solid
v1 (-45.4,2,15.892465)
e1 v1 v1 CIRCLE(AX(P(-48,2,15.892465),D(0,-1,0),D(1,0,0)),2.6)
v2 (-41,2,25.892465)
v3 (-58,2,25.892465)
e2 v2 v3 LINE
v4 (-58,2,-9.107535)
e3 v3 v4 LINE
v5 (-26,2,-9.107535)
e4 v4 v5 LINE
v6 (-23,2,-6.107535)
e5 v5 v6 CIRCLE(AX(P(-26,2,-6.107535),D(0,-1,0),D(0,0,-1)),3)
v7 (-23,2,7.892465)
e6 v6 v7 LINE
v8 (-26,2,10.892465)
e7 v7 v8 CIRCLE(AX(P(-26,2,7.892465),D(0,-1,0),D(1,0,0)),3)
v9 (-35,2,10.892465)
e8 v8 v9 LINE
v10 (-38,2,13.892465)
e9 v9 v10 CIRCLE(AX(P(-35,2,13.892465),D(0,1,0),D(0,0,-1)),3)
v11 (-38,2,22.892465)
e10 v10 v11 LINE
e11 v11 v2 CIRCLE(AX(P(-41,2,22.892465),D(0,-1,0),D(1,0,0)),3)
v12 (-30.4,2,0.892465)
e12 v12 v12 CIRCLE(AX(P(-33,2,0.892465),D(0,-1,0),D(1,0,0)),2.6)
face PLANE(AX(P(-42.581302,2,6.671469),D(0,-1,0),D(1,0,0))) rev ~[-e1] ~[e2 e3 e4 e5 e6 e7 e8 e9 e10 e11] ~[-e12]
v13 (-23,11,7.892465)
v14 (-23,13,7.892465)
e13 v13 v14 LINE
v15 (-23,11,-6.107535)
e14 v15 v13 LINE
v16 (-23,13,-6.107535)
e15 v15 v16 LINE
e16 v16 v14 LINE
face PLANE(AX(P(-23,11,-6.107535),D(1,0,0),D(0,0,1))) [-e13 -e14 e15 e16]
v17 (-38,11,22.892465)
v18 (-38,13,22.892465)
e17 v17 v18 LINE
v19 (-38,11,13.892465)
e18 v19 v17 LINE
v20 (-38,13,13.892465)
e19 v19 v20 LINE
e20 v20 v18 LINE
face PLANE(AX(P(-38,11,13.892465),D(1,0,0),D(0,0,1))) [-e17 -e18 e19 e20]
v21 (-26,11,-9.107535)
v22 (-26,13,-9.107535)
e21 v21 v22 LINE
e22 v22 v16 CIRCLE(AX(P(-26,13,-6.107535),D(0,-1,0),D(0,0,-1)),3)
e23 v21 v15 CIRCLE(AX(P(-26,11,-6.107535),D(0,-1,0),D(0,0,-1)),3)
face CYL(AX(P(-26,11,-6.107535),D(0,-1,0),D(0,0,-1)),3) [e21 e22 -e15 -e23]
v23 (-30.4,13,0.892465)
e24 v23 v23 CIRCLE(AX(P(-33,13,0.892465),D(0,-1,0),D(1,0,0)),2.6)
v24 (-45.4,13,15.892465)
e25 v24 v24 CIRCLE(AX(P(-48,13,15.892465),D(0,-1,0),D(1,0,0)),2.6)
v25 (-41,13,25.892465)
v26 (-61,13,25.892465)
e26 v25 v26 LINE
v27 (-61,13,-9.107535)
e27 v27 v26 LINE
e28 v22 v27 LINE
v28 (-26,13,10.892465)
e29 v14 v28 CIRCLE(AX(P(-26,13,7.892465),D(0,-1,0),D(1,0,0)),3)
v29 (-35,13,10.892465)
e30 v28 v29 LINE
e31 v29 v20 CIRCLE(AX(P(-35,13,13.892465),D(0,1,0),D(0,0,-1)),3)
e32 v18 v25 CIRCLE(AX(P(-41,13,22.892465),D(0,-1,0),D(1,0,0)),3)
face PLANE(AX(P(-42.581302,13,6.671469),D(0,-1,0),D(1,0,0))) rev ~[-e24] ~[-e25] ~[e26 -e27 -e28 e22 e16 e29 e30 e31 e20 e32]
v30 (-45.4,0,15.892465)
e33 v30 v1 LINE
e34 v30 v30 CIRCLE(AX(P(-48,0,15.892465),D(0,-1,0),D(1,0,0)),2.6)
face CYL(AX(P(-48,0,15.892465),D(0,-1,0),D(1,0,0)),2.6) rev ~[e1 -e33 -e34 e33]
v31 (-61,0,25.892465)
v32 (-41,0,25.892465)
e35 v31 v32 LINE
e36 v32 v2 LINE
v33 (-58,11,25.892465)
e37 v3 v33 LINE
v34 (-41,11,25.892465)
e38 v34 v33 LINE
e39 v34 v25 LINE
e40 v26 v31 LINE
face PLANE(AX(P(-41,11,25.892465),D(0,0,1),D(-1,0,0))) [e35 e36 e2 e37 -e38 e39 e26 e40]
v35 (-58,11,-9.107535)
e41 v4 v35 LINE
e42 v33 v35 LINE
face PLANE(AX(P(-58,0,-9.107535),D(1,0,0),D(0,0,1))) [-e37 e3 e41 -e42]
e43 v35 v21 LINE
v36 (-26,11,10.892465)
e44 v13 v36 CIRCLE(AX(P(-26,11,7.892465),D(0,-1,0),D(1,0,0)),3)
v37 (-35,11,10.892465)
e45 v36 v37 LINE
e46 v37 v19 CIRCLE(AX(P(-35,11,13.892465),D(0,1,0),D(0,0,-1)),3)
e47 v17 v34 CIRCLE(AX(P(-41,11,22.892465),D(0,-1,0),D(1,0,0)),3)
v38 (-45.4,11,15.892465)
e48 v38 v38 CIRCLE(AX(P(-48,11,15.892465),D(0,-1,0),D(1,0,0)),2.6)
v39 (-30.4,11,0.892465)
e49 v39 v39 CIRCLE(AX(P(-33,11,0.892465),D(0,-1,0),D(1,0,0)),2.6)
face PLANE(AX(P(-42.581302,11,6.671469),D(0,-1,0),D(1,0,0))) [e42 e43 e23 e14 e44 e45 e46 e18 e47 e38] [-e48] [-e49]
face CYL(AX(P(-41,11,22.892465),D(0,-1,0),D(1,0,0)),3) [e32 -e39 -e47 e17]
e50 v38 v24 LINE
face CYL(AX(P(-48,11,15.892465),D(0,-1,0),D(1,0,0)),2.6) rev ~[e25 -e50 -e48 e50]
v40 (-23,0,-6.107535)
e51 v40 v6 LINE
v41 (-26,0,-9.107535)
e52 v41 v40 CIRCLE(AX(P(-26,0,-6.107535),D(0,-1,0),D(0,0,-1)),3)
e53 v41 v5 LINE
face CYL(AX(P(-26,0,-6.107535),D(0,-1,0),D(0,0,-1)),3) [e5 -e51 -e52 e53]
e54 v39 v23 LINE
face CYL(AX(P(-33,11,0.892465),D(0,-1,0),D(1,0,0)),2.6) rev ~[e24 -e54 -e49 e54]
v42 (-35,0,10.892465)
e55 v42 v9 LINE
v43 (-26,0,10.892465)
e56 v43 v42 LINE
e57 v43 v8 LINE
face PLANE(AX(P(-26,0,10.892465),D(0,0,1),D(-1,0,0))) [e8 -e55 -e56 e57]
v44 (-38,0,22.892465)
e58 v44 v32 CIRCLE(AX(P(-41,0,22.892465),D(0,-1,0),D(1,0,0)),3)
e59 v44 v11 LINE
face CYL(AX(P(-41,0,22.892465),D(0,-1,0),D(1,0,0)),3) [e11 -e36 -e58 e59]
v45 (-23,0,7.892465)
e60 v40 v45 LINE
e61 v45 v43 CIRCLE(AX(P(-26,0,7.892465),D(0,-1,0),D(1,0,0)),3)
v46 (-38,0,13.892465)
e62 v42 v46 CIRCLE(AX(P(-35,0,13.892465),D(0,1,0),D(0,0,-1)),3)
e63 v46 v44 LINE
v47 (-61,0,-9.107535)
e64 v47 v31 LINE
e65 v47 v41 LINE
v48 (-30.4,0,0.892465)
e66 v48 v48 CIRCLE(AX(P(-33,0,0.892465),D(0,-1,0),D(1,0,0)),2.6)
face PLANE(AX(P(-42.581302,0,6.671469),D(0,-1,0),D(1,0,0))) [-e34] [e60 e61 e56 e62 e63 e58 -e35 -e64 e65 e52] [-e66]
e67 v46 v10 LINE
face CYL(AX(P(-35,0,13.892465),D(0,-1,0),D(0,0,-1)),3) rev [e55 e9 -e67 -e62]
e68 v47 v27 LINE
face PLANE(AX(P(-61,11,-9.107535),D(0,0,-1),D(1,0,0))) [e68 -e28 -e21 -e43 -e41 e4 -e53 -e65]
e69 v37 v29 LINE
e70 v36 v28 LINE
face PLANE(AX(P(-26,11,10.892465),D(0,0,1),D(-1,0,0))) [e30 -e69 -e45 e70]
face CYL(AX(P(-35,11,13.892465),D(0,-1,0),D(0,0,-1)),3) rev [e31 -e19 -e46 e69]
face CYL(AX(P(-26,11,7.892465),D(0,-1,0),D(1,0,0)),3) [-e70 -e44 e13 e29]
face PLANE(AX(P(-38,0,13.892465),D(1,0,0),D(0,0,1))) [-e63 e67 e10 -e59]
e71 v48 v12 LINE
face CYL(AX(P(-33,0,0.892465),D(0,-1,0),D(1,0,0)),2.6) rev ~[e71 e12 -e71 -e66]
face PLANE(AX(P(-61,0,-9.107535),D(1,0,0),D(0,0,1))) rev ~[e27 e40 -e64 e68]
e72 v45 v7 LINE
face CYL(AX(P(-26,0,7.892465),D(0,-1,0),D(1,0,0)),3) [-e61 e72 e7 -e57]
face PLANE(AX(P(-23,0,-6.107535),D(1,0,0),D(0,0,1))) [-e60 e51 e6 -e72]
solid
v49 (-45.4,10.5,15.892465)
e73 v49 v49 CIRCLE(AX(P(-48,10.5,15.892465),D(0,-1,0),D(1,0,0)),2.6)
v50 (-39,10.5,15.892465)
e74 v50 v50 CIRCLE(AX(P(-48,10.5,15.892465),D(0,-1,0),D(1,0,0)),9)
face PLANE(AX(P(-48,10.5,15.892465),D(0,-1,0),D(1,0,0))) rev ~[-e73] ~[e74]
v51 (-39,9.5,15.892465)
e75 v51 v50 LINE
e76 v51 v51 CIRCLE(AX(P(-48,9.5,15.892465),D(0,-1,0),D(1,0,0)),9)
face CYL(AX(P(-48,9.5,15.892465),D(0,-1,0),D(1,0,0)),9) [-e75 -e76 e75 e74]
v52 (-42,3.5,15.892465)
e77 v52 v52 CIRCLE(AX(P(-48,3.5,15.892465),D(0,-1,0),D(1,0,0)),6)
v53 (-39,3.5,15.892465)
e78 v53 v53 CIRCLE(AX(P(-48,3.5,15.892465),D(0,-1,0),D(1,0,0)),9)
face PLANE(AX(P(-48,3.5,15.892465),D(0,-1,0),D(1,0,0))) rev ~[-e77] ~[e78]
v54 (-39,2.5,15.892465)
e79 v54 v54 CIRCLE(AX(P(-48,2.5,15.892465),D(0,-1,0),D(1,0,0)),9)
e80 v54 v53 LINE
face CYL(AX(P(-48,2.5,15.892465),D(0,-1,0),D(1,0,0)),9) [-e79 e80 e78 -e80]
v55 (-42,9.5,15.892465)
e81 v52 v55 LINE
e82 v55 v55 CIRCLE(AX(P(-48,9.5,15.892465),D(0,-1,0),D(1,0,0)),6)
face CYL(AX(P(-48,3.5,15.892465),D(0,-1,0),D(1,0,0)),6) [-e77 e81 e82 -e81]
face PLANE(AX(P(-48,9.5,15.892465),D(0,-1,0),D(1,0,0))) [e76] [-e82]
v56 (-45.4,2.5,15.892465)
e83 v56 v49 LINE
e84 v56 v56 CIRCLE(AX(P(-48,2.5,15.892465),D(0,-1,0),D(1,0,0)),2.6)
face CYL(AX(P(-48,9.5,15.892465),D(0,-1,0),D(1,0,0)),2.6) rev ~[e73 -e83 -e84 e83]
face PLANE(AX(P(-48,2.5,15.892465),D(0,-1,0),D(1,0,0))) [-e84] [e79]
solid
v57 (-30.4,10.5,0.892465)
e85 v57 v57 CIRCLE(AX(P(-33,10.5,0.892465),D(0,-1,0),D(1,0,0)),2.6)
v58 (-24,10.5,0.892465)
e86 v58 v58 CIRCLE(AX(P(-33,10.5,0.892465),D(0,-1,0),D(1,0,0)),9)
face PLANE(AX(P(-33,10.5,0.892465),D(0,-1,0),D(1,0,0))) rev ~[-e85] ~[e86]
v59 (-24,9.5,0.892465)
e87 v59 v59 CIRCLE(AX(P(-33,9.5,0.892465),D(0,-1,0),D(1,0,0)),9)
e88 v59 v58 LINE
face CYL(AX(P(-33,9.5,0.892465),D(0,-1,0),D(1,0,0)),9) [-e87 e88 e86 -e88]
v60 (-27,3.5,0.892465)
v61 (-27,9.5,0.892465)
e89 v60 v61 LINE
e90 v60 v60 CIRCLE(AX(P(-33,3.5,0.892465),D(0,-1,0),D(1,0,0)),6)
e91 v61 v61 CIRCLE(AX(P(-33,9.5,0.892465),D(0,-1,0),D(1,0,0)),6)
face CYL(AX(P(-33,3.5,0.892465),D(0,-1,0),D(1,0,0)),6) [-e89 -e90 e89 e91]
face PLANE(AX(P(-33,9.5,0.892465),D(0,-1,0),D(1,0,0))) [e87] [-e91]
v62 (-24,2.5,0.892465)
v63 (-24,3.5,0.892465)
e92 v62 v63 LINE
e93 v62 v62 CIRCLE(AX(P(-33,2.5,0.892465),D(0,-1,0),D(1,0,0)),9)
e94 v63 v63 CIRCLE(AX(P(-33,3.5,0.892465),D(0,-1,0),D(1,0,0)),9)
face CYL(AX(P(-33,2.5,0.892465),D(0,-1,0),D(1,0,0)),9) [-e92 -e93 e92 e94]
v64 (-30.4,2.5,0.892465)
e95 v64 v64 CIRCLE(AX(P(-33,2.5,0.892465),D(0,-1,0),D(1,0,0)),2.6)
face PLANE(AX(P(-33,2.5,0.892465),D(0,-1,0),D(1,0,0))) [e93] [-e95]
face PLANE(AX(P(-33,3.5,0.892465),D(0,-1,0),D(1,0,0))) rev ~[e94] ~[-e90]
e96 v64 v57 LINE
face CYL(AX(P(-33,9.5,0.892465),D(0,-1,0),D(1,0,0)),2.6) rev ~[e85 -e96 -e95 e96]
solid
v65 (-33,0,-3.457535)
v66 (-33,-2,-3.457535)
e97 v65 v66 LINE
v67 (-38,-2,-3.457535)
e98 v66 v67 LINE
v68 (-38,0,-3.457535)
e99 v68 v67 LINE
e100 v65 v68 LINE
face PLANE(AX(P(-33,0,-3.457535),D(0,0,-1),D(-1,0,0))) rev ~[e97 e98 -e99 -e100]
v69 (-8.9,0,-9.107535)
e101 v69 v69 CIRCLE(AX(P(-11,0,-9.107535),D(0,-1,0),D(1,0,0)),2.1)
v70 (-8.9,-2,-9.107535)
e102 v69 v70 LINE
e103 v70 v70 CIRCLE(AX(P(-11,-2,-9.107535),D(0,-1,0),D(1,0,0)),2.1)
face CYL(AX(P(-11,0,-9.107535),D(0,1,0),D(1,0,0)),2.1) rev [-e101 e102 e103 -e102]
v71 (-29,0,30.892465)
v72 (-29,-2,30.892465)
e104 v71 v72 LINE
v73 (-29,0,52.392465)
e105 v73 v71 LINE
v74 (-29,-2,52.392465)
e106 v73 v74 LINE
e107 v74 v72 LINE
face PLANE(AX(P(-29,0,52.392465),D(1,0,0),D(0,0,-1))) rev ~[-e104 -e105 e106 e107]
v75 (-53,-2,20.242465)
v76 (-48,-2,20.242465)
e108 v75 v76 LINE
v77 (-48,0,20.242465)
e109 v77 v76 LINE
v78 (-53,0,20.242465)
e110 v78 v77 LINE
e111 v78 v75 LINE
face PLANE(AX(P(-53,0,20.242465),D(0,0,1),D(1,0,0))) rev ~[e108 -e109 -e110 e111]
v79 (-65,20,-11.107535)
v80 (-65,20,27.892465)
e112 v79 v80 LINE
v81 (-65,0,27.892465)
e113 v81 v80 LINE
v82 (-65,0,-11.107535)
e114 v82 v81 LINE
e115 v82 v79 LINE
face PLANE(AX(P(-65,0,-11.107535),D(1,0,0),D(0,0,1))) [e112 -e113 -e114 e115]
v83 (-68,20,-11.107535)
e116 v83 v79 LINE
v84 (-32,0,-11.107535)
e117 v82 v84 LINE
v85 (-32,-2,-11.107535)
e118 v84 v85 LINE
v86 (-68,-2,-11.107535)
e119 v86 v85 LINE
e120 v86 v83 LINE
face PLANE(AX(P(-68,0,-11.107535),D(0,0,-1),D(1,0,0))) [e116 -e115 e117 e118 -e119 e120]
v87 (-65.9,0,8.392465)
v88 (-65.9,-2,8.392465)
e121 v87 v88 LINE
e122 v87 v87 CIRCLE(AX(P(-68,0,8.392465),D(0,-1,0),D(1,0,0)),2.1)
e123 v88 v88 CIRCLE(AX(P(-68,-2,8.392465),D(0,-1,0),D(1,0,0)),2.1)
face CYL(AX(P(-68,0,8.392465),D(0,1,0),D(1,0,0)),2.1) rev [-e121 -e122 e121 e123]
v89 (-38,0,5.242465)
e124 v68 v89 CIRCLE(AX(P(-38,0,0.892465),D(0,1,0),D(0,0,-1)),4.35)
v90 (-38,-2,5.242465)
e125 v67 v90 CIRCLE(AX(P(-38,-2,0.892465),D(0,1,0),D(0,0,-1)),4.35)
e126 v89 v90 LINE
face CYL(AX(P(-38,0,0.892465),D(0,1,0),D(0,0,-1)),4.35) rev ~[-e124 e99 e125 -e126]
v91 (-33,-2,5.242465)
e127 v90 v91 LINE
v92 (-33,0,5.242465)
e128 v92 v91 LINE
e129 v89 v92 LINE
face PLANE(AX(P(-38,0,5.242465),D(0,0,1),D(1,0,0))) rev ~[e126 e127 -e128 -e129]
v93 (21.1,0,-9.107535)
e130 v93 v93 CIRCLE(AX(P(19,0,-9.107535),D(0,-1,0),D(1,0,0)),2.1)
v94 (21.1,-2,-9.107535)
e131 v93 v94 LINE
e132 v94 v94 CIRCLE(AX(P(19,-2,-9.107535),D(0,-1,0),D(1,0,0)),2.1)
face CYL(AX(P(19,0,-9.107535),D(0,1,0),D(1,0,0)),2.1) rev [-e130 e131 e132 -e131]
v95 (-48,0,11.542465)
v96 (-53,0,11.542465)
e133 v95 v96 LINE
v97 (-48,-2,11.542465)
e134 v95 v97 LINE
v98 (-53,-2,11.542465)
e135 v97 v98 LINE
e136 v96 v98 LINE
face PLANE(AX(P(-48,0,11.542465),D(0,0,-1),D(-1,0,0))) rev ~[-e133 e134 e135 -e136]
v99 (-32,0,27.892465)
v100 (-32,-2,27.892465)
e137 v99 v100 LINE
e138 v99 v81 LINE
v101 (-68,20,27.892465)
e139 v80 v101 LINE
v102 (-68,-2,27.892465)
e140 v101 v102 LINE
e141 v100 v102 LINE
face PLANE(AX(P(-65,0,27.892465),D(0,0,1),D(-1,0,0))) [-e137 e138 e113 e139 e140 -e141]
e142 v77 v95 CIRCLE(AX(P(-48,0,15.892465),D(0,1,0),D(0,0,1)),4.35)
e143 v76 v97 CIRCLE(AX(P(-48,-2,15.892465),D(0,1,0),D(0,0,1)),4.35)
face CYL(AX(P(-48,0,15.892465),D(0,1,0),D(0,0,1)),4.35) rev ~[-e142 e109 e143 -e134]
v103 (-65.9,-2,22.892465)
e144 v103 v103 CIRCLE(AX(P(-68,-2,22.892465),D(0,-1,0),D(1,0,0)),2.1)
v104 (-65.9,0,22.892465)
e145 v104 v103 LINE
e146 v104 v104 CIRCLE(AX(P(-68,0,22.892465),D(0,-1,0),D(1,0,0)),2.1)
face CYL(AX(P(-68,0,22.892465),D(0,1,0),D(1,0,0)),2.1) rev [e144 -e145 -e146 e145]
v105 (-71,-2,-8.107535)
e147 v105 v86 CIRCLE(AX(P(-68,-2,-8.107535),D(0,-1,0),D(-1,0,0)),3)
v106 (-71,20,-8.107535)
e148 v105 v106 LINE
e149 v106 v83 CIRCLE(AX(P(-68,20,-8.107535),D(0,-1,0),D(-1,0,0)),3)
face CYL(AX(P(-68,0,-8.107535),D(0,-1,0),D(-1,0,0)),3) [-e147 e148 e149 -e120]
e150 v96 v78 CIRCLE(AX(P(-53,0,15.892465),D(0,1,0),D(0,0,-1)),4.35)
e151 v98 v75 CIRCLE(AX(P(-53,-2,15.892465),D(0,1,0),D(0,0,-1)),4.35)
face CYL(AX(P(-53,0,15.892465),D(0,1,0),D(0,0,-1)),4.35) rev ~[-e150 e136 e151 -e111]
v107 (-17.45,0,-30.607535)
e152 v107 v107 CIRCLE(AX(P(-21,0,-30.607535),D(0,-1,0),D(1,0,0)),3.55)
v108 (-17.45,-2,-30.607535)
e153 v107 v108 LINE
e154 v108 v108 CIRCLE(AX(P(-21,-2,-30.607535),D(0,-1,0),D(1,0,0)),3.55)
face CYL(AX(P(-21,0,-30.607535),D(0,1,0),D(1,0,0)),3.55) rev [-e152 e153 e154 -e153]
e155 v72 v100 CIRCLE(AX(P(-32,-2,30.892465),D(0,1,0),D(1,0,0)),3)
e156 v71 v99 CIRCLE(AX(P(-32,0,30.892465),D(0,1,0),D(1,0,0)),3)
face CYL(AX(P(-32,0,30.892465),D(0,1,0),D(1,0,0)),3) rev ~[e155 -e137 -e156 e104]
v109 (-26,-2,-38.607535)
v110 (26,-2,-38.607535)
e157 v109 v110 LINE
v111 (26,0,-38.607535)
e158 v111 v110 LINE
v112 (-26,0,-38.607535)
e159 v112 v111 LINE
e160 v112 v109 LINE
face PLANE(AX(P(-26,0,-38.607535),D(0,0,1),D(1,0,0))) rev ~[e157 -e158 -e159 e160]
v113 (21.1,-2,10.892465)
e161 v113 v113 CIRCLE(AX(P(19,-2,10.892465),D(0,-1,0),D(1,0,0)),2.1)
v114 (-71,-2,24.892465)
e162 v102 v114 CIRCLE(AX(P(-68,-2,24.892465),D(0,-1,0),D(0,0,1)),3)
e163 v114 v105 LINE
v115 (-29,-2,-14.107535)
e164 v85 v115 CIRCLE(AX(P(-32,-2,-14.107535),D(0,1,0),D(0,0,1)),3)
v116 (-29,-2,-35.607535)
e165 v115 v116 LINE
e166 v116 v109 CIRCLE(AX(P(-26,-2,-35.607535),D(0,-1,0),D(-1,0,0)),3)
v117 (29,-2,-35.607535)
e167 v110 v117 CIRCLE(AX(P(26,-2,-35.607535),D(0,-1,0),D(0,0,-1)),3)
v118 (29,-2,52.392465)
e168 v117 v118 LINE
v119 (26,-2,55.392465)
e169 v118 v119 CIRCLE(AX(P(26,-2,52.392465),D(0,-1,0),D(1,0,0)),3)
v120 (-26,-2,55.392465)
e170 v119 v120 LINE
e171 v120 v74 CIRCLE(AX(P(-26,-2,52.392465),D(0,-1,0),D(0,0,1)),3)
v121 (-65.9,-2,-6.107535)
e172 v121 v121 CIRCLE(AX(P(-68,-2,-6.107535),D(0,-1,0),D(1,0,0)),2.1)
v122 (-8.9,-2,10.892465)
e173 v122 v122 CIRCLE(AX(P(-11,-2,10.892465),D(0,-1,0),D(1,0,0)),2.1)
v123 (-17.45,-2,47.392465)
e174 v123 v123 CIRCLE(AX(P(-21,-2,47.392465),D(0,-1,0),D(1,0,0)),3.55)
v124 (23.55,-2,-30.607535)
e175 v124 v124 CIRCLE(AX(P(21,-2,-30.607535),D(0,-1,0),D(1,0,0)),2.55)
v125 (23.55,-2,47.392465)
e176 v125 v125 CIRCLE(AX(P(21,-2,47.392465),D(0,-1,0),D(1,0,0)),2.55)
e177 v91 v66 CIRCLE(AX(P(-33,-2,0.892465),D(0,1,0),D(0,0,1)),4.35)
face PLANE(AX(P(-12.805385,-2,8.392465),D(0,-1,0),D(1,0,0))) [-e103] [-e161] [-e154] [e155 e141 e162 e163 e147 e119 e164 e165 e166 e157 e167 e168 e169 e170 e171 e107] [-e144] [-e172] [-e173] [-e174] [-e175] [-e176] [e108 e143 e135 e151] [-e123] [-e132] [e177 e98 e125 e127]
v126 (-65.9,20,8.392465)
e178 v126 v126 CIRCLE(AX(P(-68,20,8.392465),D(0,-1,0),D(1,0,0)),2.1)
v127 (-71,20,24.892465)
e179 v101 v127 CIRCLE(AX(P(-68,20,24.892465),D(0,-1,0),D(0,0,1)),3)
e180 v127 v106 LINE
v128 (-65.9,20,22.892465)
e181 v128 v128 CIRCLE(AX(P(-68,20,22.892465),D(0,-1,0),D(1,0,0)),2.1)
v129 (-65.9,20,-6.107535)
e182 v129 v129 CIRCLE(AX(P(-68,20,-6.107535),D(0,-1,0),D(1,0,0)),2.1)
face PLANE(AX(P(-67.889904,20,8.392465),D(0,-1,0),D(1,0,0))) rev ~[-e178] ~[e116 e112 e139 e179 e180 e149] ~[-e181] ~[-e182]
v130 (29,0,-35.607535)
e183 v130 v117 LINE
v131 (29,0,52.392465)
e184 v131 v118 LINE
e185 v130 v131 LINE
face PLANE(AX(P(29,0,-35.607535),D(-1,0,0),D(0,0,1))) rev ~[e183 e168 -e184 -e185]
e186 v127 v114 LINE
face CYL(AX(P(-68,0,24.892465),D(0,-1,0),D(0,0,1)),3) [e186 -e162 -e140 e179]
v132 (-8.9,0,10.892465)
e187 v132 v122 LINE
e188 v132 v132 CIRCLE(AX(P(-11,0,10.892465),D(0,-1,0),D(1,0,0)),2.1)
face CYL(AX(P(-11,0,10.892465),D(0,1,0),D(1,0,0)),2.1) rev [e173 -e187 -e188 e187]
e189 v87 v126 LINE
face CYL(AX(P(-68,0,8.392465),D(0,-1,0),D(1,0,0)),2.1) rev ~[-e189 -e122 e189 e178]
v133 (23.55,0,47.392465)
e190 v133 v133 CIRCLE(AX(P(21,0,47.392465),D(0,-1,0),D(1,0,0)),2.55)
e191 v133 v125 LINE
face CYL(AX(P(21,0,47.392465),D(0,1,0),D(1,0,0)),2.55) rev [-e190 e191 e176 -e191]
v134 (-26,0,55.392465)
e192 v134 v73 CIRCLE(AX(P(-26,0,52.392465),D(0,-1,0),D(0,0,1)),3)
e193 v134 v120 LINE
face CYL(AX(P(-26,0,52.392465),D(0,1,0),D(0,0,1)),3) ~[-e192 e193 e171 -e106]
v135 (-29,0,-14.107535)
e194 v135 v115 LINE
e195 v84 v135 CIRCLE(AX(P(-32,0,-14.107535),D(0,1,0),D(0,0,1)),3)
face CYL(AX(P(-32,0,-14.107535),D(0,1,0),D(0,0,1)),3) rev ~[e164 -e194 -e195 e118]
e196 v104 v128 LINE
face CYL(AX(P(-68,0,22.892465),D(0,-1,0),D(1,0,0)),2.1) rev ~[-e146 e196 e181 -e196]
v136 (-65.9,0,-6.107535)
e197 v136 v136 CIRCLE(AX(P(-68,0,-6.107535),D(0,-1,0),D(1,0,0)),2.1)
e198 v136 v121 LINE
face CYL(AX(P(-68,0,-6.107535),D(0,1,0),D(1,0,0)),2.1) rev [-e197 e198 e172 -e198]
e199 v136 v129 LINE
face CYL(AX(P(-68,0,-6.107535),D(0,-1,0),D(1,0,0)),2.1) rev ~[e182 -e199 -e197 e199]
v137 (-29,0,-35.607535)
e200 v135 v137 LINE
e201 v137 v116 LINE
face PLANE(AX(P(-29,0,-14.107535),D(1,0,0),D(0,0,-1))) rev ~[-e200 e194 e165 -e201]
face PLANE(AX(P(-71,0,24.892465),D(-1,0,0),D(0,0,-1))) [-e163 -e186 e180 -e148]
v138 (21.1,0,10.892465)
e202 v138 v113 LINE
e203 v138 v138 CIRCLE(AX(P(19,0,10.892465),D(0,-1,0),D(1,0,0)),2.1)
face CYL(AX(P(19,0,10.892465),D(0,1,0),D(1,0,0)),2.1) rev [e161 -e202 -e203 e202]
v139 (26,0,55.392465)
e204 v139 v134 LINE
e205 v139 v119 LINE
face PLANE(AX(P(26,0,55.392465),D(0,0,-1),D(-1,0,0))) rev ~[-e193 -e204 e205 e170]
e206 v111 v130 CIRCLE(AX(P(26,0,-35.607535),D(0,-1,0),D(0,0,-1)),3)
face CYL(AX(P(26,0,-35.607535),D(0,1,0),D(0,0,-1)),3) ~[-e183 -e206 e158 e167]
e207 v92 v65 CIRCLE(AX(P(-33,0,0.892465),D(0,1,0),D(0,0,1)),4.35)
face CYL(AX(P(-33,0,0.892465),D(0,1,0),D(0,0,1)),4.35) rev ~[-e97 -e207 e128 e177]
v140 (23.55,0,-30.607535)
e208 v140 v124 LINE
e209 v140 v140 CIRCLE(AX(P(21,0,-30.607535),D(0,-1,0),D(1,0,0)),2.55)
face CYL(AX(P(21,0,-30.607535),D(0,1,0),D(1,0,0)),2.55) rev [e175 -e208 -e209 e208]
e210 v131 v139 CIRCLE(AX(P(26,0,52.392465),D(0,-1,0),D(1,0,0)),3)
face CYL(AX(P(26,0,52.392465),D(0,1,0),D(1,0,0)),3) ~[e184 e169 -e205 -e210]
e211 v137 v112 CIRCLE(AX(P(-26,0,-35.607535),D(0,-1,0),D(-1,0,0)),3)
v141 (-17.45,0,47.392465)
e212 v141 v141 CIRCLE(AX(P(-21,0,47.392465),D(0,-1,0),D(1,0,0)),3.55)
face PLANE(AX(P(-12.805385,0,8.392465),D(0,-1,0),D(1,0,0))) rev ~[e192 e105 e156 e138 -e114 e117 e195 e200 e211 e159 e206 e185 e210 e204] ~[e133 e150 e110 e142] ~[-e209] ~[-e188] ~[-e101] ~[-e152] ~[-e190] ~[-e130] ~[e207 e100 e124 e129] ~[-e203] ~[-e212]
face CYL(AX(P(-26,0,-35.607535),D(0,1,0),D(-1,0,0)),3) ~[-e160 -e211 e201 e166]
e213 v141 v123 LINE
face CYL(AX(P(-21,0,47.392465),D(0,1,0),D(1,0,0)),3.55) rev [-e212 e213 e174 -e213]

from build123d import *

# Parameters (mm, degrees)
F2_START  = -2.5
F1_R      = 9
F1_R_2    = 6
F1_R_3    = 2.6
F2_DEPTH  = 1
F3_START  = -3.5
F3_DEPTH  = 6
F4_START  = -9.5
F4_DEPTH  = 1
F0_R      = 3.55
F0_R_2    = 2.55
F0_R_3    = 2.1
F5_DEPTH  = 2
F6_DEPTH  = 20
F7_W      = 3
F7_H      = 35
F8_DEPTH  = 13
F7_R      = 2.6
F9_DEPTH  = 2
F10_START = -11
F10_DEPTH = 2


with BuildPart() as f2:
    # F1 (on Front) → F2 (new body)
    with BuildSketch(Plane.XZ.offset(F2_START)):
        with Locations((-48, 15.8924648328)):
            Circle(F1_R)
        with Locations((-48, 15.8924648328)):
            Circle(F1_R_2, mode=Mode.SUBTRACT)
        with Locations((-48, 15.8924648328)):
            Circle(F1_R_2)
        with Locations((-48, 15.8924648328)):
            Circle(F1_R_3, mode=Mode.SUBTRACT)
    extrude(amount=-F2_DEPTH)

    # F1 (on Front) → F3 (join)
    with BuildSketch(Plane.XZ.offset(F3_START)):
        with Locations((-48, 15.8924648328)):
            Circle(F1_R_2)
        with Locations((-48, 15.8924648328)):
            Circle(F1_R_3, mode=Mode.SUBTRACT)
    extrude(amount=-F3_DEPTH)

    # F1 (on Front) → F4 (join)
    with BuildSketch(Plane.XZ.offset(F4_START)):
        with Locations((-48, 15.8924648328)):
            Circle(F1_R)
        with Locations((-48, 15.8924648328)):
            Circle(F1_R_2, mode=Mode.SUBTRACT)
        with Locations((-48, 15.8924648328)):
            Circle(F1_R_2)
        with Locations((-48, 15.8924648328)):
            Circle(F1_R_3, mode=Mode.SUBTRACT)
    extrude(amount=-F4_DEPTH)


with BuildPart() as f2b:
    # F1 (on Front) → F2, piece 2 (new body)
    with BuildSketch(Plane.XZ.offset(F2_START)):
        with Locations((-33, 0.8924648328)):
            Circle(F1_R)
        with Locations((-33, 0.8924648328)):
            Circle(F1_R_2, mode=Mode.SUBTRACT)
        with Locations((-33, 0.8924648328)):
            Circle(F1_R_2)
        with Locations((-33, 0.8924648328)):
            Circle(F1_R_3, mode=Mode.SUBTRACT)
    extrude(amount=-F2_DEPTH)

    # F1 (on Front) → F3, piece 2 (join)
    with BuildSketch(Plane.XZ.offset(F3_START)):
        with Locations((-33, 0.8924648328)):
            Circle(F1_R_2)
        with Locations((-33, 0.8924648328)):
            Circle(F1_R_3, mode=Mode.SUBTRACT)
    extrude(amount=-F3_DEPTH)

    # F1 (on Front) → F4, piece 2 (join)
    with BuildSketch(Plane.XZ.offset(F4_START)):
        with Locations((-33, 0.8924648328)):
            Circle(F1_R)
        with Locations((-33, 0.8924648328)):
            Circle(F1_R_2, mode=Mode.SUBTRACT)
        with Locations((-33, 0.8924648328)):
            Circle(F1_R_2)
        with Locations((-33, 0.8924648328)):
            Circle(F1_R_3, mode=Mode.SUBTRACT)
    extrude(amount=-F4_DEPTH)


with BuildPart() as f5:
    # F0 (on Front) → F5 (new body)
    with BuildSketch(Plane.XZ):
        with BuildLine():
            ThreePointArc((29, 52.3924648328), (28.1213203436, 54.5137851763), (26, 55.3924648328))
            Line((26, 55.3924648328), (-26, 55.3924648328))
            ThreePointArc((-26, 55.3924648328), (-28.1213203436, 54.5137851763), (-29, 52.3924648328))
            Line((-29, 52.3924648328), (-29, 30.8924648328))
            ThreePointArc((-29, 30.8924648328), (-29.8786796564, 28.7711444892), (-32, 27.8924648328))
            Line((-32, 27.8924648328), (-65, 27.8924648328))
            Line((-65, 27.8924648328), (-65, -11.1075351672))
            Line((-65, -11.1075351672), (-32, -11.1075351672))
            ThreePointArc((-32, -11.1075351672), (-29.8786796564, -11.9862148237), (-29, -14.1075351672))
            Line((-29, -14.1075351672), (-29, -35.6075351672))
            ThreePointArc((-29, -35.6075351672), (-28.1213203436, -37.7288555108), (-26, -38.6075351672))
            Line((-26, -38.6075351672), (26, -38.6075351672))
            ThreePointArc((26, -38.6075351672), (28.1213203436, -37.7288555108), (29, -35.6075351672))
            Line((29, -35.6075351672), (29, 52.3924648328))
        make_face()
        with BuildLine():
            ThreePointArc((-38, -3.4575351672), (-42.35, 0.8924648328), (-38, 5.2424648328))
            Line((-38, 5.2424648328), (-33, 5.2424648328))
            ThreePointArc((-33, 5.2424648328), (-28.65, 0.8924648328), (-33, -3.4575351672))
            Line((-33, -3.4575351672), (-38, -3.4575351672))
        make_face(mode=Mode.SUBTRACT)
        with Locations((-21, -30.6075351672)):
            Circle(F0_R, mode=Mode.SUBTRACT)
        with Locations((21, -30.6075351672)):
            Circle(F0_R_2, mode=Mode.SUBTRACT)
        with Locations((-11, -9.1075351672)):
            Circle(F0_R_3, mode=Mode.SUBTRACT)
        with Locations((19, -9.1075351672)):
            Circle(F0_R_3, mode=Mode.SUBTRACT)
        with BuildLine():
            ThreePointArc((-53, 11.5424648328), (-57.35, 15.8924648328), (-53, 20.2424648328))
            Line((-53, 20.2424648328), (-48, 20.2424648328))
            ThreePointArc((-48, 20.2424648328), (-43.65, 15.8924648328), (-48, 11.5424648328))
            Line((-48, 11.5424648328), (-53, 11.5424648328))
        make_face(mode=Mode.SUBTRACT)
        with Locations((-11, 10.8924648328)):
            Circle(F0_R_3, mode=Mode.SUBTRACT)
        with Locations((19, 10.8924648328)):
            Circle(F0_R_3, mode=Mode.SUBTRACT)
        with Locations((-21, 47.3924648328)):
            Circle(F0_R, mode=Mode.SUBTRACT)
        with Locations((21, 47.3924648328)):
            Circle(F0_R_2, mode=Mode.SUBTRACT)
        with BuildLine():
            Line((-65, -11.1075351672), (-65, 27.8924648328))
            Line((-65, 27.8924648328), (-68, 27.8924648328))
            ThreePointArc((-68, 27.8924648328), (-70.1213203436, 27.0137851763), (-71, 24.8924648328))
            Line((-71, 24.8924648328), (-71, -8.1075351672))
            ThreePointArc((-71, -8.1075351672), (-70.1213203436, -10.2288555108), (-68, -11.1075351672))
            Line((-68, -11.1075351672), (-65, -11.1075351672))
        make_face()
        with Locations((-68, -6.1075351672)):
            Circle(F0_R_3, mode=Mode.SUBTRACT)
        with Locations((-68, 8.3924648328)):
            Circle(F0_R_3, mode=Mode.SUBTRACT)
        with Locations((-68, 22.8924648328)):
            Circle(F0_R_3, mode=Mode.SUBTRACT)
    extrude(amount=F5_DEPTH)

    # F0 (on Front) → F6 (join)
    with BuildSketch(Plane.XZ):
        with BuildLine():
            Line((-65, -11.1075351672), (-65, 27.8924648328))
            Line((-65, 27.8924648328), (-68, 27.8924648328))
            ThreePointArc((-68, 27.8924648328), (-70.1213203436, 27.0137851763), (-71, 24.8924648328))
            Line((-71, 24.8924648328), (-71, -8.1075351672))
            ThreePointArc((-71, -8.1075351672), (-70.1213203436, -10.2288555108), (-68, -11.1075351672))
            Line((-68, -11.1075351672), (-65, -11.1075351672))
        make_face()
        with Locations((-68, -6.1075351672)):
            Circle(F0_R_3, mode=Mode.SUBTRACT)
        with Locations((-68, 8.3924648328)):
            Circle(F0_R_3, mode=Mode.SUBTRACT)
        with Locations((-68, 22.8924648328)):
            Circle(F0_R_3, mode=Mode.SUBTRACT)
    extrude(amount=-F6_DEPTH)


with BuildPart() as f8:
    # F7 (on Front) → F8 (new body)
    with BuildSketch(Plane.XZ):
        with Locations((-59.5, 8.3924648328)):
            Rectangle(F7_W, F7_H)
    extrude(amount=-F8_DEPTH)

    # F7 (on Front) → F9 (join)
    with BuildSketch(Plane.XZ):
        with BuildLine():
            Line((-41, 25.8924648328), (-58, 25.8924648328))
            Line((-58, 25.8924648328), (-58, -9.1075351672))
            Line((-58, -9.1075351672), (-26, -9.1075351672))
            ThreePointArc((-26, -9.1075351672), (-23.8786796564, -8.2288555108), (-23, -6.1075351672))
            Line((-23, -6.1075351672), (-23, 7.8924648328))
            ThreePointArc((-23, 7.8924648328), (-23.8786796564, 10.0137851763), (-26, 10.8924648328))
            Line((-26, 10.8924648328), (-35, 10.8924648328))
            ThreePointArc((-35, 10.8924648328), (-37.1213203436, 11.7711444892), (-38, 13.8924648328))
            Line((-38, 13.8924648328), (-38, 22.8924648328))
            ThreePointArc((-38, 22.8924648328), (-38.8786796564, 25.0137851763), (-41, 25.8924648328))
        make_face()
        with Locations((-33, 0.8924648328)):
            Circle(F7_R, mode=Mode.SUBTRACT)
        with Locations((-48, 15.8924648328)):
            Circle(F7_R, mode=Mode.SUBTRACT)
        with Locations((-59.5, 8.3924648328)):
            Rectangle(F7_W, F7_H)
    extrude(amount=-F9_DEPTH)

    # F7 (on Front) → F10 (join)
    with BuildSketch(Plane.XZ.offset(F10_START)):
        with BuildLine():
            Line((-41, 25.8924648328), (-58, 25.8924648328))
            Line((-58, 25.8924648328), (-58, -9.1075351672))
            Line((-58, -9.1075351672), (-26, -9.1075351672))
            ThreePointArc((-26, -9.1075351672), (-23.8786796564, -8.2288555108), (-23, -6.1075351672))
            Line((-23, -6.1075351672), (-23, 7.8924648328))
            ThreePointArc((-23, 7.8924648328), (-23.8786796564, 10.0137851763), (-26, 10.8924648328))
            Line((-26, 10.8924648328), (-35, 10.8924648328))
            ThreePointArc((-35, 10.8924648328), (-37.1213203436, 11.7711444892), (-38, 13.8924648328))
            Line((-38, 13.8924648328), (-38, 22.8924648328))
            ThreePointArc((-38, 22.8924648328), (-38.8786796564, 25.0137851763), (-41, 25.8924648328))
        make_face()
        with Locations((-33, 0.8924648328)):
            Circle(F7_R, mode=Mode.SUBTRACT)
        with Locations((-48, 15.8924648328)):
            Circle(F7_R, mode=Mode.SUBTRACT)
        with Locations((-59.5, 8.3924648328)):
            Rectangle(F7_W, F7_H)
    extrude(amount=-F10_DEPTH)


solid = Compound([f2.part, f2b.part, f5.part, f8.part])
